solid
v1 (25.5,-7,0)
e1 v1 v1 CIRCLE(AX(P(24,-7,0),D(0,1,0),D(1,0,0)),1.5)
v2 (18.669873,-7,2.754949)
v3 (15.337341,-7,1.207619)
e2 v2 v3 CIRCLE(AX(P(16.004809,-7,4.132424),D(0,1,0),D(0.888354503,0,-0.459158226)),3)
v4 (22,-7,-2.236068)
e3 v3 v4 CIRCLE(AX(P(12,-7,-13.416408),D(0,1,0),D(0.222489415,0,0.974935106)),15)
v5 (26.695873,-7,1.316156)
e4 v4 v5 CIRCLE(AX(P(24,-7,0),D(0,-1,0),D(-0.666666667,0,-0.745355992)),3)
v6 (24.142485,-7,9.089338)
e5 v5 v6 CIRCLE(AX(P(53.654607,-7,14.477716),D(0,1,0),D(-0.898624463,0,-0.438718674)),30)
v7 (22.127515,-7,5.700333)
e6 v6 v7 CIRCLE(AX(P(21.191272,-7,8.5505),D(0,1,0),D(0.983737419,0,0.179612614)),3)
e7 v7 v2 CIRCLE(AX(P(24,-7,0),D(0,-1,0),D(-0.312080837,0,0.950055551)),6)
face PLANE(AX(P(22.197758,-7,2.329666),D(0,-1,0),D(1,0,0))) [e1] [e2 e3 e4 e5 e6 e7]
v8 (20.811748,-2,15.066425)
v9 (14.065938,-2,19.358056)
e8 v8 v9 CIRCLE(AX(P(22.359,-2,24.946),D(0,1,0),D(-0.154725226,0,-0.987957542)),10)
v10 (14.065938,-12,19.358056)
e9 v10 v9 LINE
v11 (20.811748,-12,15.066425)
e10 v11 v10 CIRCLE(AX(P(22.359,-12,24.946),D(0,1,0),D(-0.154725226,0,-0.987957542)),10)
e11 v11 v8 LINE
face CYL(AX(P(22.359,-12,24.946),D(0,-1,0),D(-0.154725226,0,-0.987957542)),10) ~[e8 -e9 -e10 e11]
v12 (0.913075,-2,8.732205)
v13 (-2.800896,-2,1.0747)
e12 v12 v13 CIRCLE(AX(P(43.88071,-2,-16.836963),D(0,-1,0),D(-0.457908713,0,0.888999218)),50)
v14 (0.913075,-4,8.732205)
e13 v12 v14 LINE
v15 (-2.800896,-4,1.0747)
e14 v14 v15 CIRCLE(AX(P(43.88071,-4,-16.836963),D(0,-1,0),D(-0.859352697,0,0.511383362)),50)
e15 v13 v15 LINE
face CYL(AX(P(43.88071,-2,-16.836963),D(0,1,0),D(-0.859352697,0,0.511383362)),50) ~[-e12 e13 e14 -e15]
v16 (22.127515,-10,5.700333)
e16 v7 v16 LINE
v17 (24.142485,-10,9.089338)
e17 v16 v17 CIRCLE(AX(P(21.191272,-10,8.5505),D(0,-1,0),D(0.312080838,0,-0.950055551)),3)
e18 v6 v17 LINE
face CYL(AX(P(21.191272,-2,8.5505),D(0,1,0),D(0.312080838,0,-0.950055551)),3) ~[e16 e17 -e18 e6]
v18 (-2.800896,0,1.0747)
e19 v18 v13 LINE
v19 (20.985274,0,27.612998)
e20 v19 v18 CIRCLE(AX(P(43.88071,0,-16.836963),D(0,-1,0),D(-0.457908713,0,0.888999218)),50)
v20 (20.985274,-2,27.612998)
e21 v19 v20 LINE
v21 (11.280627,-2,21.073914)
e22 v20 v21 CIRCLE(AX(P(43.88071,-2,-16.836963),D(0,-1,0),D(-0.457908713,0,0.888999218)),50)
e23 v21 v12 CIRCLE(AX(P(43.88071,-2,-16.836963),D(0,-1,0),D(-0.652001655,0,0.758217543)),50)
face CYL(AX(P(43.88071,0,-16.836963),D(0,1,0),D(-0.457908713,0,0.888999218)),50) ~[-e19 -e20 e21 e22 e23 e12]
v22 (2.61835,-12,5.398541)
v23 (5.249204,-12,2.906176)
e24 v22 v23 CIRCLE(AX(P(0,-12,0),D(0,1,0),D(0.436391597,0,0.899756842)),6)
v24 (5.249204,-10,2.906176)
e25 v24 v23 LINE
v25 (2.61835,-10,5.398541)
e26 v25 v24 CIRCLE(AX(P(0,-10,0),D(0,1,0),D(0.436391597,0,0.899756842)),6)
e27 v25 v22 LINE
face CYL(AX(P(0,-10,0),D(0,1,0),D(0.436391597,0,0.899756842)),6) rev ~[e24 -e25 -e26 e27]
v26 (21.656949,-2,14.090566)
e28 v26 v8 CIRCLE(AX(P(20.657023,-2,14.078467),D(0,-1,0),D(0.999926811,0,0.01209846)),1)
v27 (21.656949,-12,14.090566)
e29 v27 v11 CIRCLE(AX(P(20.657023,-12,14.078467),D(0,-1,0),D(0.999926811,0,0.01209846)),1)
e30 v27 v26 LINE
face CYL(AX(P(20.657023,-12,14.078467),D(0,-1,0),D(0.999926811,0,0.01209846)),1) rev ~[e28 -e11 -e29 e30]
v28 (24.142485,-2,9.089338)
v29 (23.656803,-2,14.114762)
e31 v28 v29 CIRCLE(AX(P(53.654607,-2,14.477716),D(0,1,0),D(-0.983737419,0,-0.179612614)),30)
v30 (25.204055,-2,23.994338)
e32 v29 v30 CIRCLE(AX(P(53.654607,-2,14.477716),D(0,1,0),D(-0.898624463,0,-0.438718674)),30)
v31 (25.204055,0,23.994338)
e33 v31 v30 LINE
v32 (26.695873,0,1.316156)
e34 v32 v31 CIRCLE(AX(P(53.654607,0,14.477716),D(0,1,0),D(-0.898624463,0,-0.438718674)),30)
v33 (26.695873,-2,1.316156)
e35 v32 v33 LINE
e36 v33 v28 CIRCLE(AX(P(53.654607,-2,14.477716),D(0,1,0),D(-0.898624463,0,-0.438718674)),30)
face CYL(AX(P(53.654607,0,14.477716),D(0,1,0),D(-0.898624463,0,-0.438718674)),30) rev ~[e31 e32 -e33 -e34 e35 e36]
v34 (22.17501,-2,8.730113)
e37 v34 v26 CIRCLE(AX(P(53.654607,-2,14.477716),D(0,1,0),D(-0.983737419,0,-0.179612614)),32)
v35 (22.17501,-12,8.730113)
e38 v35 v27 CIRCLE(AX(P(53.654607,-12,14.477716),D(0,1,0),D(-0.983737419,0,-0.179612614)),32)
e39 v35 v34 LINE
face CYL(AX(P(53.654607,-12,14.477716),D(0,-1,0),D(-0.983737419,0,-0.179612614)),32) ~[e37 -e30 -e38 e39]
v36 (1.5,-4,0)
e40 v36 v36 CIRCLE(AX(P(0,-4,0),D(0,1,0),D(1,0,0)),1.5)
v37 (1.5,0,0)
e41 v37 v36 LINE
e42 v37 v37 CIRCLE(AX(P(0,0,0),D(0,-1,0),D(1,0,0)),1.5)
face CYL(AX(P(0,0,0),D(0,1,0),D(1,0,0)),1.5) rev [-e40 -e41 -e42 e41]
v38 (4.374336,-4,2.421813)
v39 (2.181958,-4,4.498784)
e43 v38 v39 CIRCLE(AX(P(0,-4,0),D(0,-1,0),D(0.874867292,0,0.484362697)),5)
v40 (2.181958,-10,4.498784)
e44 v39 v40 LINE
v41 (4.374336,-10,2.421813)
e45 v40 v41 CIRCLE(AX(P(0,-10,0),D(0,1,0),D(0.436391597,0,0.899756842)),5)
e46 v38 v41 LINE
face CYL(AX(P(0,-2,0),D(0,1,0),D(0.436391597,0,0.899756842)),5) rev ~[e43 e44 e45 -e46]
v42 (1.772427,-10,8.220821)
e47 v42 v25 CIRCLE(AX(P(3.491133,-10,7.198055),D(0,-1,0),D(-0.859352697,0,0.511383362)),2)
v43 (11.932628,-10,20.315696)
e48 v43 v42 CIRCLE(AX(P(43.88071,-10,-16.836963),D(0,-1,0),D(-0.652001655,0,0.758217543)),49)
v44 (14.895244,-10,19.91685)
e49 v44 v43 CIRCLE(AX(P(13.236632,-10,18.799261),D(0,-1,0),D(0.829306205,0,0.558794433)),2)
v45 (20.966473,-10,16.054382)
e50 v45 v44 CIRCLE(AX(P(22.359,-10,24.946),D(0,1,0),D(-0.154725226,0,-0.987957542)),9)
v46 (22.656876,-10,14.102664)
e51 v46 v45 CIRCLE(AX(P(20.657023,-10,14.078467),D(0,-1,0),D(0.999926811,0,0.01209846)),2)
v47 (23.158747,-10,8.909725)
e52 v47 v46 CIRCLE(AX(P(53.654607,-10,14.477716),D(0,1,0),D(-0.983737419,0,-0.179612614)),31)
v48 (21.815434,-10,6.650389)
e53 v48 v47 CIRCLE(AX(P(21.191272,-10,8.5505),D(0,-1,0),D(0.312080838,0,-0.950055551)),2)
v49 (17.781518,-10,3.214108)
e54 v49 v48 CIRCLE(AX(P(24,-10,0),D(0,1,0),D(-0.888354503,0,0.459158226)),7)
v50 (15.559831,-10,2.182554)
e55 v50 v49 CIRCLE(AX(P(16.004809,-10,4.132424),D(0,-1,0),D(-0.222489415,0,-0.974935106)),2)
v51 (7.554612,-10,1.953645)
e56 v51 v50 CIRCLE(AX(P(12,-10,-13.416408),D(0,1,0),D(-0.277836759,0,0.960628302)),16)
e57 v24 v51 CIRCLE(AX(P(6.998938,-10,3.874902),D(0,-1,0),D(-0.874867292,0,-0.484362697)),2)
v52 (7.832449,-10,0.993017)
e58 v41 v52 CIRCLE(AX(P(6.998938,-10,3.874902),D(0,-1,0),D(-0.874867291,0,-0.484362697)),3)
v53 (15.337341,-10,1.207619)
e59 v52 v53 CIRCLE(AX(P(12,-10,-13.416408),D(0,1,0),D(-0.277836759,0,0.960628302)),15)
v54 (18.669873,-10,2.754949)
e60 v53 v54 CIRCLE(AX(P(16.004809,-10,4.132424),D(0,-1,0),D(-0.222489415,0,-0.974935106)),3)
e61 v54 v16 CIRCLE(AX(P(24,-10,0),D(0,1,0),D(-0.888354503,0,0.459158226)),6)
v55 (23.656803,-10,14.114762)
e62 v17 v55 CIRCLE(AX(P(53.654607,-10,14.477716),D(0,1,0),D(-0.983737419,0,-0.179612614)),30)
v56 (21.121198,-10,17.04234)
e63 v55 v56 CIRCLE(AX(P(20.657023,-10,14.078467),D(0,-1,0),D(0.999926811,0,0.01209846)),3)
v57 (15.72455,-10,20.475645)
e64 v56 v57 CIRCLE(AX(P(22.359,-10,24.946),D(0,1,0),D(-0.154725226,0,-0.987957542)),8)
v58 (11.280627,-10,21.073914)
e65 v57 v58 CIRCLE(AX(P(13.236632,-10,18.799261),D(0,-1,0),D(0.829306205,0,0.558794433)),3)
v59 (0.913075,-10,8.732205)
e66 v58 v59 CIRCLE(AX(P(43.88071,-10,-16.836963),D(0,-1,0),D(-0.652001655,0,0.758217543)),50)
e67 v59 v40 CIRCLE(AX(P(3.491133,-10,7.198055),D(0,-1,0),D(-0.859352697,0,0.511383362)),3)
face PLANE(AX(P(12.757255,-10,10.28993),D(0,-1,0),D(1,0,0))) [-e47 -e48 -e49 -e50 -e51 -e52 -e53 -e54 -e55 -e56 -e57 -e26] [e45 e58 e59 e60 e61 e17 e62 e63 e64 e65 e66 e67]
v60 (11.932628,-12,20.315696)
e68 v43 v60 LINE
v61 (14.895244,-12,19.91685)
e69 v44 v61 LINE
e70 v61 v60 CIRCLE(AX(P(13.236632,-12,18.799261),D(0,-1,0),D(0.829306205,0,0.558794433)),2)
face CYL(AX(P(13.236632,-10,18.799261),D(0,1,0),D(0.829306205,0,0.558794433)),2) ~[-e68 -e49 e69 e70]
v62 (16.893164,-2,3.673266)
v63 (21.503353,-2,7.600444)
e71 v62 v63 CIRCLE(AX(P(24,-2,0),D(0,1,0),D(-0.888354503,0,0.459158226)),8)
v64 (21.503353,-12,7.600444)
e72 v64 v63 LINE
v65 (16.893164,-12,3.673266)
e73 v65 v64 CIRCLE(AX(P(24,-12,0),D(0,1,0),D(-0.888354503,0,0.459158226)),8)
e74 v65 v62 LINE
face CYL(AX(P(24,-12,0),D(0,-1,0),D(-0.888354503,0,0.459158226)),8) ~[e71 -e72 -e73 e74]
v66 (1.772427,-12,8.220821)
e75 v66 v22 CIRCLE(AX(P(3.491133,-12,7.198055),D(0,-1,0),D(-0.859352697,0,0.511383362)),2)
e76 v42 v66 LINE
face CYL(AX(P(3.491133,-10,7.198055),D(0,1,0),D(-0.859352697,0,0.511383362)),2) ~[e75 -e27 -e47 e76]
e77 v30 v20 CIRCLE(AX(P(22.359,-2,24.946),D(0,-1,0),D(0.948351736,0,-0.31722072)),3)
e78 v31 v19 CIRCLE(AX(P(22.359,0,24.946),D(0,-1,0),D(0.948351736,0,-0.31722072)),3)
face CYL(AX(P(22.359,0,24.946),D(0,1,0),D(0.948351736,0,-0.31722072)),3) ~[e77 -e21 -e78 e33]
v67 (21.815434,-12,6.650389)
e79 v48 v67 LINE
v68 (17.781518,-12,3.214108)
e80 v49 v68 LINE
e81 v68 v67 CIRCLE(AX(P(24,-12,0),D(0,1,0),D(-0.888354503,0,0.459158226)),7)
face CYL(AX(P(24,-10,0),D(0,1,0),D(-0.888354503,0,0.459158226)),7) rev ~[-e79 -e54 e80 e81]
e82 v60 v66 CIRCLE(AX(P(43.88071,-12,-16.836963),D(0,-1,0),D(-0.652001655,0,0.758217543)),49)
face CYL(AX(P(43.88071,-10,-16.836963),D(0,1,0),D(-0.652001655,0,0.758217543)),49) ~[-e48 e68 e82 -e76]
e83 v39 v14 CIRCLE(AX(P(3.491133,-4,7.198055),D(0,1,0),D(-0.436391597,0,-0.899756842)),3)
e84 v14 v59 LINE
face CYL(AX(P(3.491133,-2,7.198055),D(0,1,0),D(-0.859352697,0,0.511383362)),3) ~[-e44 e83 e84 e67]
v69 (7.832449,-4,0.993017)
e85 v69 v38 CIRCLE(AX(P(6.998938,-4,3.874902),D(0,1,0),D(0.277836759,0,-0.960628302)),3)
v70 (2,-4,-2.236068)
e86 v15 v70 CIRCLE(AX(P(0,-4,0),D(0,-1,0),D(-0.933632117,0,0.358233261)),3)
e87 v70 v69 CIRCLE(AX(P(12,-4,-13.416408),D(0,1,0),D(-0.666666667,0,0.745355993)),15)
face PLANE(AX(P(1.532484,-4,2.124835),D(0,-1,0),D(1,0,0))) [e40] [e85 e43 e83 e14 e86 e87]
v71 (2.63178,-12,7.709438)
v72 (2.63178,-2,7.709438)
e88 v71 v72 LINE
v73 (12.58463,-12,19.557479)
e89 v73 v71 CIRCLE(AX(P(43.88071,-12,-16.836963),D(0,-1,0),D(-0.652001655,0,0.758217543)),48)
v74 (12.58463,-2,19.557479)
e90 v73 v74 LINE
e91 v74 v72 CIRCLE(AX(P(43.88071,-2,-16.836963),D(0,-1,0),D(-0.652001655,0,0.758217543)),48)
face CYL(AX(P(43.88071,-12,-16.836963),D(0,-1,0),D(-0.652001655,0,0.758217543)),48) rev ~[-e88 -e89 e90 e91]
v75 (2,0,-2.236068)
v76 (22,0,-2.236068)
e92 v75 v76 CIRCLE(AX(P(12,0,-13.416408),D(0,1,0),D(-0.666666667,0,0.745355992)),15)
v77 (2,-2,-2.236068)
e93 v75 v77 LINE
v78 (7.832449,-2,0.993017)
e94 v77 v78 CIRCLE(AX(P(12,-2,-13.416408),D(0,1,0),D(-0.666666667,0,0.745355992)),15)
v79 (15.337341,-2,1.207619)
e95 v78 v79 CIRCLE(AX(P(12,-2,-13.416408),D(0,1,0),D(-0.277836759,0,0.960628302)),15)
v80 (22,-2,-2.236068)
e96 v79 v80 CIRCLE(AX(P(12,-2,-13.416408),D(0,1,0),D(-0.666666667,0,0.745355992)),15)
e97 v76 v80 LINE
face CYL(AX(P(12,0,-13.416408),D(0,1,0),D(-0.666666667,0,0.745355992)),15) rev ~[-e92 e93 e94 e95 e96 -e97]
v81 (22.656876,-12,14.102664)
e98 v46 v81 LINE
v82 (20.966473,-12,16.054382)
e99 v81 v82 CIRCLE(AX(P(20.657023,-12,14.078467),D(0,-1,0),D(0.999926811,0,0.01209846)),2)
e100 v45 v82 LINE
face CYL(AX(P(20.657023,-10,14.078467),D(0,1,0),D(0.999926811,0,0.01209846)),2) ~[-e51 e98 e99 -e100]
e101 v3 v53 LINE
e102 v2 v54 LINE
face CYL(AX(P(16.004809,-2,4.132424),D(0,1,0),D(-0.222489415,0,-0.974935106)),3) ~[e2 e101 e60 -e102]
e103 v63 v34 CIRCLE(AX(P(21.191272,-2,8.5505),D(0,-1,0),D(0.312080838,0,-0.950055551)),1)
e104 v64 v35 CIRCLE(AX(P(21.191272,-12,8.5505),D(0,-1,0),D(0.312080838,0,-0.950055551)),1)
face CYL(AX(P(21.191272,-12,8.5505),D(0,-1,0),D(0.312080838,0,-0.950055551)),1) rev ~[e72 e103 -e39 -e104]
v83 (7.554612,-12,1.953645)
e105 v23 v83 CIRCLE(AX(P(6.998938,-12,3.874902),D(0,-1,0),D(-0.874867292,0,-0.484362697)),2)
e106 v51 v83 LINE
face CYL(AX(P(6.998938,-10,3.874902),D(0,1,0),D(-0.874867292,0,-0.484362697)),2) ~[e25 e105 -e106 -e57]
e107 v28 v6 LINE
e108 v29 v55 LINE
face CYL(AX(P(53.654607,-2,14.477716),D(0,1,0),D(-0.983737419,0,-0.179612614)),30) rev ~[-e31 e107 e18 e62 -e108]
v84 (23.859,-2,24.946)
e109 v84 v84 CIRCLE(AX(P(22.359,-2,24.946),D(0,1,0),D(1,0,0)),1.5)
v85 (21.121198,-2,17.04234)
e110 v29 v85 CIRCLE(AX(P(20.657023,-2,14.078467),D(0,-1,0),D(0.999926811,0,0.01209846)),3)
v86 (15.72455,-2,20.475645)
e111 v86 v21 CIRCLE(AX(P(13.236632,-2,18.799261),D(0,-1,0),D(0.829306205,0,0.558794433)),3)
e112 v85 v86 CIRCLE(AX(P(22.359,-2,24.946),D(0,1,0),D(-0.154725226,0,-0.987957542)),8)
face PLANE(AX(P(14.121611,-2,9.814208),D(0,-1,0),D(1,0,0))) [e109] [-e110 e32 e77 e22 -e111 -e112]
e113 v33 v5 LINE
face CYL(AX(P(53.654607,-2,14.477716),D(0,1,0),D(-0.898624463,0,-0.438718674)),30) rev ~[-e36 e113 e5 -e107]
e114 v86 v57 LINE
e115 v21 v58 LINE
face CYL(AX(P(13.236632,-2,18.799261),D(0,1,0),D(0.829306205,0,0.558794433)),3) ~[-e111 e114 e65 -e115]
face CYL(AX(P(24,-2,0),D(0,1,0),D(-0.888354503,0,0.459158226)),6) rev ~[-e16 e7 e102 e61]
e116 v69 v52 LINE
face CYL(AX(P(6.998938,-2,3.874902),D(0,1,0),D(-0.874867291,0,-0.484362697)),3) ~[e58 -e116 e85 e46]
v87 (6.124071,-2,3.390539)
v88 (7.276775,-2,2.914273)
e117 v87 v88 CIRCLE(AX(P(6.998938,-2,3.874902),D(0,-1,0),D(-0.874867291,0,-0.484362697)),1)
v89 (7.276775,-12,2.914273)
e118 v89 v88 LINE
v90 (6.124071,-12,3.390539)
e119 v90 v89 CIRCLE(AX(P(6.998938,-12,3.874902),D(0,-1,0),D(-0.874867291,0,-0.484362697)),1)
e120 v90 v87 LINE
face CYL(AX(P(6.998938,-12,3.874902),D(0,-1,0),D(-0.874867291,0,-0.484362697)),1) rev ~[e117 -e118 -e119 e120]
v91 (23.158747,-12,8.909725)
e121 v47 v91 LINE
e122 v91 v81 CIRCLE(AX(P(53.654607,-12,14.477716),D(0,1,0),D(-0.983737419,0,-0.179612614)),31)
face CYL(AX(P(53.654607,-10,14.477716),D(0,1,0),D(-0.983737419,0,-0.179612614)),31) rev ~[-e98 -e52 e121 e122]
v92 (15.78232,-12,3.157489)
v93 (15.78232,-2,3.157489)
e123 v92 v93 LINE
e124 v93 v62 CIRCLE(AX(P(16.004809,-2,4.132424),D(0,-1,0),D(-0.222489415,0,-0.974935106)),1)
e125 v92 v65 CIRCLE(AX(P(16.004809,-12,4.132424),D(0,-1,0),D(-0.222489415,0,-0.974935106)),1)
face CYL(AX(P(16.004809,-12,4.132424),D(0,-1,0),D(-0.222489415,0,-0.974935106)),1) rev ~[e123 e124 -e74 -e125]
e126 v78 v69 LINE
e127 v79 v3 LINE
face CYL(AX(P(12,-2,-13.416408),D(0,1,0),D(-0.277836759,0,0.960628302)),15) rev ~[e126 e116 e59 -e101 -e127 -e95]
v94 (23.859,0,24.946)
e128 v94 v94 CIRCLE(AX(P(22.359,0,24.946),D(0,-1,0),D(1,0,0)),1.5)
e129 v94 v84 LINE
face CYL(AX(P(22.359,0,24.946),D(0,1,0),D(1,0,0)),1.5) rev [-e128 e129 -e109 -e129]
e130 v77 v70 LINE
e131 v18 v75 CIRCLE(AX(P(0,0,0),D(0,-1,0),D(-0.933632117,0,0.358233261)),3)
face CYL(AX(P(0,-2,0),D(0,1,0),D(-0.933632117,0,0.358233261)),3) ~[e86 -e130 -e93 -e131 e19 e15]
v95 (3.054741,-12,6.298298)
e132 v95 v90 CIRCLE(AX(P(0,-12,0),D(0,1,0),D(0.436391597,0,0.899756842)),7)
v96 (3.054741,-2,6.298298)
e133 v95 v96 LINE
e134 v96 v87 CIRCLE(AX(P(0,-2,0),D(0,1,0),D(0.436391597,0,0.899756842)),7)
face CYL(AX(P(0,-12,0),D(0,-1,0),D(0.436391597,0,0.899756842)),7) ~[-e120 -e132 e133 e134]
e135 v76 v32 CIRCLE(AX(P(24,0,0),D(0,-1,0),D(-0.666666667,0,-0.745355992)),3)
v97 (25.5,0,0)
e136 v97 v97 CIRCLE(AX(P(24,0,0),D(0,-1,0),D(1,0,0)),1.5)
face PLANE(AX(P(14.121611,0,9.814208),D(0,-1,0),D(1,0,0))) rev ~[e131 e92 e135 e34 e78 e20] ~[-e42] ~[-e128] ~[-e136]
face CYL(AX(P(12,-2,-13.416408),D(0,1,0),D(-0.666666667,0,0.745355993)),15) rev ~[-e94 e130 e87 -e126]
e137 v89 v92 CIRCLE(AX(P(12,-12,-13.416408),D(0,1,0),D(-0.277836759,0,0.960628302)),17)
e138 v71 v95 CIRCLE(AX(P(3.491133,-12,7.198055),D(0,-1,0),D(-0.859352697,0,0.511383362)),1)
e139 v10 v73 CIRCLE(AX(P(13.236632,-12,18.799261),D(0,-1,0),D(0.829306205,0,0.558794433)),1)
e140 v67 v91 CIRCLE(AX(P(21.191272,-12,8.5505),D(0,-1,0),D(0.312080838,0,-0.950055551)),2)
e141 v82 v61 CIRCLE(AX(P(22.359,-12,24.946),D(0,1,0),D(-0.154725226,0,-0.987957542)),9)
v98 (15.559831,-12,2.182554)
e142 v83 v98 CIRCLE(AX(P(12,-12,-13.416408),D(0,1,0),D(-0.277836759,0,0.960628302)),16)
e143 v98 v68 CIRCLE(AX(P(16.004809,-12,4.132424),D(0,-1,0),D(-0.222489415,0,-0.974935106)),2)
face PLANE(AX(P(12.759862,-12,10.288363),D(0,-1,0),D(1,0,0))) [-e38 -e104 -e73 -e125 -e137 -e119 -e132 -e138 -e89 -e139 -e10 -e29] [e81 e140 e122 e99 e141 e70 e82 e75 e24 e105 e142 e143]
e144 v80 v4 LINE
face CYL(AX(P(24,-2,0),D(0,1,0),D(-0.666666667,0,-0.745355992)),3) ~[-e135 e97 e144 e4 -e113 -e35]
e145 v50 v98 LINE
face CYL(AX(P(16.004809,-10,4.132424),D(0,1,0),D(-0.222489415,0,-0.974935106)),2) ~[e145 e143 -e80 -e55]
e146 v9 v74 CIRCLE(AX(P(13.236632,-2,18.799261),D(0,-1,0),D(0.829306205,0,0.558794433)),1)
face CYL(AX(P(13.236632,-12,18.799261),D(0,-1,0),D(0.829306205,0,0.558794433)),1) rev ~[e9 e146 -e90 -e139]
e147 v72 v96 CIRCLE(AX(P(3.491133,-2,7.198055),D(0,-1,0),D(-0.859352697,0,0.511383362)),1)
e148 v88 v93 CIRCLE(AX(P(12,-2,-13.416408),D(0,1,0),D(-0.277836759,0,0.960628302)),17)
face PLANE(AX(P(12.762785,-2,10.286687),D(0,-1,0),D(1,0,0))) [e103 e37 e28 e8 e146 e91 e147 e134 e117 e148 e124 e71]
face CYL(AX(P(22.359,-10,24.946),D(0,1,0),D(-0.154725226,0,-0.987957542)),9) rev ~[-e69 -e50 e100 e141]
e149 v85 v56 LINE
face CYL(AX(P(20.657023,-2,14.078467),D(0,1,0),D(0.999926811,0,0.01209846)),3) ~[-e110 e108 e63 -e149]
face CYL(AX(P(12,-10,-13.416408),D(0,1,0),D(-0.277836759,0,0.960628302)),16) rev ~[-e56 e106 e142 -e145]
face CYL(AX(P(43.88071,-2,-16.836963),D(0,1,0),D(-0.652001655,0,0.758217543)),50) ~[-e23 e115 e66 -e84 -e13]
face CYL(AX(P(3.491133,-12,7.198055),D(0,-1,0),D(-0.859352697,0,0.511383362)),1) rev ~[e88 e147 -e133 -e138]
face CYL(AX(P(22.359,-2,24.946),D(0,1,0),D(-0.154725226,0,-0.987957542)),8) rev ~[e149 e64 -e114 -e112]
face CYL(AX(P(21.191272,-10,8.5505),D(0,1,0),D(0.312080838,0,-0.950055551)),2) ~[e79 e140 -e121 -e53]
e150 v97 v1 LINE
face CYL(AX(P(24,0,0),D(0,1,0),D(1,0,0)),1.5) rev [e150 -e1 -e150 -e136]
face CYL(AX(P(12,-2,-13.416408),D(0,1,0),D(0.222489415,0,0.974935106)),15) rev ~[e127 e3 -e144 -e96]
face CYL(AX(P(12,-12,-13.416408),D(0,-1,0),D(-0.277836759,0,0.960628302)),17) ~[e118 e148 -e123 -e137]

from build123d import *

# Parameters (mm, degrees)
F1_DEPTH  = 2
F3_DEPTH  = 8
F5_DEPTH  = 2
F7_DEPTH  = 5
F9_DEPTH  = 2
F11_DEPTH = 10
F12_R     = 1.5
F13_DEPTH = 12.001


with BuildPart() as f1:
    # F0 (on Front) → F1 (new body)
    with BuildSketch(Plane.XZ):
        with BuildLine():
            ThreePointArc((20.9852738604, 27.6129976553), (6.6475053794, 16.5350086475), (-2.8008963523, 1.074699783))
            ThreePointArc((-2.8008963523, 1.074699783), (-1.7031308032, -2.4696852972), (2, -2.2360679775))
            ThreePointArc((2, -2.2360679775), (12, 1.583592135), (22, -2.2360679775))
            ThreePointArc((22, -2.2360679775), (25.8098712045, -2.3925647793), (26.6958733889, 1.3161560208))
            ThreePointArc((26.6958733889, 1.3161560208), (23.7193066232, 12.5085096075), (25.2040552071, 23.994337839))
            ThreePointArc((25.2040552071, 23.994337839), (24.3121710173, 27.2230865107), (20.9852738604, 27.6129976553))
        make_face()
    extrude(amount=F1_DEPTH)

    # F2 (on face) → F3 (join)
    with BuildSketch(Plane.XZ.offset(2)):
        with BuildLine():
            ThreePointArc((2.1819579837, 4.4987842088), (3.4387063042, 3.6297794635), (4.3743364575, 2.4218134851))
            ThreePointArc((4.3743364575, 2.4218134851), (5.8533522977, 1.1022435306), (7.83244861, 0.9930166694))
            ThreePointArc((7.83244861, 0.9930166694), (11.5712509604, 1.5774633583), (15.3373412263, 1.2076187193))
            ThreePointArc((15.3373412263, 1.2076187193), (17.2681996472, 1.4114232526), (18.6698729811, 2.7549493575))
            ThreePointArc((18.6698729811, 2.7549493575), (20.1092125836, 4.5674690235), (22.1275149749, 5.7003333087))
            ThreePointArc((22.1275149749, 5.7003333087), (23.7699182337, 7.0173378758), (24.1424847183, 9.0893378054))
            ThreePointArc((24.1424847183, 9.0893378054), (23.7937370176, 11.591814757), (23.6568029492, 14.1147624204))
            ThreePointArc((23.6568029492, 14.1147624204), (22.9247140991, 16.0425380377), (21.1211981937, 17.0423396652))
            ThreePointArc((21.1211981937, 17.0423396652), (18.064820066, 18.1961838029), (15.724550358, 20.475644539))
            ThreePointArc((15.724550358, 20.475644539), (13.6368998786, 21.7724389046), (11.2806267778, 21.0739138692))
            ThreePointArc((11.2806267778, 21.0739138692), (5.5962553568, 15.3235804079), (0.9130746838, 8.7322048192))
            ThreePointArc((0.9130746838, 8.7322048192), (0.6174404831, 6.3367228484), (2.1819579837, 4.4987842088))
        make_face()
    extrude(amount=F3_DEPTH)

    # F4 (on face) → F5 (join)
    with BuildSketch(Plane.XZ.offset(2)):
        with BuildLine():
            ThreePointArc((2, -2.2360679775), (4.7345595446, -0.2933984926), (7.83244861, 0.9930166694))
            ThreePointArc((7.83244861, 0.9930166694), (5.8533522977, 1.1022435306), (4.3743364575, 2.4218134851))
            ThreePointArc((4.3743364575, 2.4218134851), (3.4387063042, 3.6297794635), (2.1819579837, 4.4987842088))
            ThreePointArc((2.1819579837, 4.4987842088), (0.6174404831, 6.3367228484), (0.9130746838, 8.7322048192))
            ThreePointArc((0.9130746838, 8.7322048192), (-1.1071325681, 4.9826165706), (-2.8008963523, 1.074699783))
            ThreePointArc((-2.8008963523, 1.074699783), (-1.7031308032, -2.4696852972), (2, -2.2360679775))
        make_face()
    extrude(amount=F5_DEPTH)

    # F6 (on face) → F7 (join)
    with BuildSketch(Plane.XZ.offset(2)):
        with BuildLine():
            ThreePointArc((26.6958733889, 1.3161560208), (25.1529407341, 5.1152911032), (24.1424847183, 9.0893378054))
            ThreePointArc((24.1424847183, 9.0893378054), (23.7699182337, 7.0173378758), (22.1275149749, 5.7003333087))
            ThreePointArc((22.1275149749, 5.7003333087), (20.1092125836, 4.5674690235), (18.6698729811, 2.7549493575))
            ThreePointArc((18.6698729811, 2.7549493575), (17.2681996472, 1.4114232526), (15.3373412263, 1.2076187193))
            ThreePointArc((15.3373412263, 1.2076187193), (18.8873733936, -0.0910903177), (22, -2.2360679775))
            ThreePointArc((22, -2.2360679775), (25.8098712045, -2.3925647793), (26.6958733889, 1.3161560208))
        make_face()
    extrude(amount=F7_DEPTH)

    # F8 (on face) → F9 (join)
    with BuildSketch(Plane.XZ.offset(10)):
        with BuildLine():
            ThreePointArc((17.7815184779, 3.2141075837), (19.4607480142, 5.3287138608), (21.8154341374, 6.6503888602))
            ThreePointArc((21.8154341374, 6.6503888602), (22.9103696432, 7.5283919049), (23.1587472996, 8.9097251913))
            ThreePointArc((23.1587472996, 8.9097251913), (22.7983746756, 11.4956180412), (22.6568761383, 14.1026639602))
            ThreePointArc((22.6568761383, 14.1026639602), (22.1688169049, 15.387847705), (20.966472968, 16.0543821233))
            ThreePointArc((20.966472968, 16.0543821233), (17.5280475743, 17.3524567782), (14.8952441528, 19.9168501063))
            ThreePointArc((14.8952441528, 19.9168501063), (13.5034771665, 20.7813796834), (11.9326284326, 20.3156963265))
            ThreePointArc((11.9326284326, 20.3156963265), (6.3619444401, 14.6803695344), (1.7724273805, 8.2208214575))
            ThreePointArc((1.7724273805, 8.2208214575), (1.5753379134, 6.623833477), (2.6183495805, 5.3985410505))
            ThreePointArc((2.6183495805, 5.3985410505), (4.1264475651, 4.3557353562), (5.249203749, 2.9061761822))
            ThreePointArc((5.249203749, 2.9061761822), (6.2352143091, 2.0264628791), (7.5546118506, 1.9536449717))
            ThreePointArc((7.5546118506, 1.9536449717), (11.5426676911, 2.5770547732), (15.5598306414, 2.1825538249))
            ThreePointArc((15.5598306414, 2.1825538249), (16.8470695887, 2.3184235138), (17.7815184779, 3.2141075837))
        make_face()
    extrude(amount=F9_DEPTH)

    # F10 (on face) → F11 (cut)
    with BuildSketch(Plane.XZ.offset(12)):
        with BuildLine():
            ThreePointArc((14.0659379899, 19.3580557023), (13.3700544612, 19.7903205129), (12.5846300541, 19.5574788225))
            ThreePointArc((12.5846300541, 19.5574788225), (7.1276334842, 14.0371586938), (2.6317800333, 7.7094381219))
            ThreePointArc((2.6317800333, 7.7094381219), (2.5332352947, 6.9109440908), (3.0547411549, 6.2982978463))
            ThreePointArc((3.0547411549, 6.2982978463), (4.8141887907, 5.0816912117), (6.1240709957, 3.3905388544))
            ThreePointArc((6.1240709957, 3.3905388544), (6.617076301, 2.9506821804), (7.2767751055, 2.9142732248))
            ThreePointArc((7.2767751055, 2.9142732248), (11.5140844233, 3.576646137), (15.7823200452, 3.1574888807))
            ThreePointArc((15.7823200452, 3.1574888807), (16.4259395517, 3.2254237286), (16.8931640202, 3.6732657865))
            ThreePointArc((16.8931640202, 3.6732657865), (18.812283478, 6.0899586591), (21.5033533158, 7.6004443631))
            ThreePointArc((21.5033533158, 7.6004443631), (22.0508210967, 8.0394459079), (22.1750099313, 8.7301125864))
            ThreePointArc((22.1750099313, 8.7301125864), (21.8030123845, 11.3994213304), (21.6569493785, 14.0905655005))
            ThreePointArc((21.6569493785, 14.0905655005), (21.4129197493, 14.7331574058), (20.8117477501, 15.066424632))
            ThreePointArc((20.8117477501, 15.066424632), (16.99127511, 16.5087297967), (14.0659379899, 19.3580557023))
        make_face()
    extrude(amount=-F11_DEPTH, mode=Mode.SUBTRACT)

    # F12 (on Front) → F13 (cut, through all)
    with BuildSketch(Plane.XZ):
        Circle(F12_R)
        with Locations((22.359, 24.946)):
            Circle(F12_R)
        with Locations((24, 0)):
            Circle(F12_R)
    extrude(amount=F13_DEPTH, mode=Mode.SUBTRACT)


solid = f1.part
